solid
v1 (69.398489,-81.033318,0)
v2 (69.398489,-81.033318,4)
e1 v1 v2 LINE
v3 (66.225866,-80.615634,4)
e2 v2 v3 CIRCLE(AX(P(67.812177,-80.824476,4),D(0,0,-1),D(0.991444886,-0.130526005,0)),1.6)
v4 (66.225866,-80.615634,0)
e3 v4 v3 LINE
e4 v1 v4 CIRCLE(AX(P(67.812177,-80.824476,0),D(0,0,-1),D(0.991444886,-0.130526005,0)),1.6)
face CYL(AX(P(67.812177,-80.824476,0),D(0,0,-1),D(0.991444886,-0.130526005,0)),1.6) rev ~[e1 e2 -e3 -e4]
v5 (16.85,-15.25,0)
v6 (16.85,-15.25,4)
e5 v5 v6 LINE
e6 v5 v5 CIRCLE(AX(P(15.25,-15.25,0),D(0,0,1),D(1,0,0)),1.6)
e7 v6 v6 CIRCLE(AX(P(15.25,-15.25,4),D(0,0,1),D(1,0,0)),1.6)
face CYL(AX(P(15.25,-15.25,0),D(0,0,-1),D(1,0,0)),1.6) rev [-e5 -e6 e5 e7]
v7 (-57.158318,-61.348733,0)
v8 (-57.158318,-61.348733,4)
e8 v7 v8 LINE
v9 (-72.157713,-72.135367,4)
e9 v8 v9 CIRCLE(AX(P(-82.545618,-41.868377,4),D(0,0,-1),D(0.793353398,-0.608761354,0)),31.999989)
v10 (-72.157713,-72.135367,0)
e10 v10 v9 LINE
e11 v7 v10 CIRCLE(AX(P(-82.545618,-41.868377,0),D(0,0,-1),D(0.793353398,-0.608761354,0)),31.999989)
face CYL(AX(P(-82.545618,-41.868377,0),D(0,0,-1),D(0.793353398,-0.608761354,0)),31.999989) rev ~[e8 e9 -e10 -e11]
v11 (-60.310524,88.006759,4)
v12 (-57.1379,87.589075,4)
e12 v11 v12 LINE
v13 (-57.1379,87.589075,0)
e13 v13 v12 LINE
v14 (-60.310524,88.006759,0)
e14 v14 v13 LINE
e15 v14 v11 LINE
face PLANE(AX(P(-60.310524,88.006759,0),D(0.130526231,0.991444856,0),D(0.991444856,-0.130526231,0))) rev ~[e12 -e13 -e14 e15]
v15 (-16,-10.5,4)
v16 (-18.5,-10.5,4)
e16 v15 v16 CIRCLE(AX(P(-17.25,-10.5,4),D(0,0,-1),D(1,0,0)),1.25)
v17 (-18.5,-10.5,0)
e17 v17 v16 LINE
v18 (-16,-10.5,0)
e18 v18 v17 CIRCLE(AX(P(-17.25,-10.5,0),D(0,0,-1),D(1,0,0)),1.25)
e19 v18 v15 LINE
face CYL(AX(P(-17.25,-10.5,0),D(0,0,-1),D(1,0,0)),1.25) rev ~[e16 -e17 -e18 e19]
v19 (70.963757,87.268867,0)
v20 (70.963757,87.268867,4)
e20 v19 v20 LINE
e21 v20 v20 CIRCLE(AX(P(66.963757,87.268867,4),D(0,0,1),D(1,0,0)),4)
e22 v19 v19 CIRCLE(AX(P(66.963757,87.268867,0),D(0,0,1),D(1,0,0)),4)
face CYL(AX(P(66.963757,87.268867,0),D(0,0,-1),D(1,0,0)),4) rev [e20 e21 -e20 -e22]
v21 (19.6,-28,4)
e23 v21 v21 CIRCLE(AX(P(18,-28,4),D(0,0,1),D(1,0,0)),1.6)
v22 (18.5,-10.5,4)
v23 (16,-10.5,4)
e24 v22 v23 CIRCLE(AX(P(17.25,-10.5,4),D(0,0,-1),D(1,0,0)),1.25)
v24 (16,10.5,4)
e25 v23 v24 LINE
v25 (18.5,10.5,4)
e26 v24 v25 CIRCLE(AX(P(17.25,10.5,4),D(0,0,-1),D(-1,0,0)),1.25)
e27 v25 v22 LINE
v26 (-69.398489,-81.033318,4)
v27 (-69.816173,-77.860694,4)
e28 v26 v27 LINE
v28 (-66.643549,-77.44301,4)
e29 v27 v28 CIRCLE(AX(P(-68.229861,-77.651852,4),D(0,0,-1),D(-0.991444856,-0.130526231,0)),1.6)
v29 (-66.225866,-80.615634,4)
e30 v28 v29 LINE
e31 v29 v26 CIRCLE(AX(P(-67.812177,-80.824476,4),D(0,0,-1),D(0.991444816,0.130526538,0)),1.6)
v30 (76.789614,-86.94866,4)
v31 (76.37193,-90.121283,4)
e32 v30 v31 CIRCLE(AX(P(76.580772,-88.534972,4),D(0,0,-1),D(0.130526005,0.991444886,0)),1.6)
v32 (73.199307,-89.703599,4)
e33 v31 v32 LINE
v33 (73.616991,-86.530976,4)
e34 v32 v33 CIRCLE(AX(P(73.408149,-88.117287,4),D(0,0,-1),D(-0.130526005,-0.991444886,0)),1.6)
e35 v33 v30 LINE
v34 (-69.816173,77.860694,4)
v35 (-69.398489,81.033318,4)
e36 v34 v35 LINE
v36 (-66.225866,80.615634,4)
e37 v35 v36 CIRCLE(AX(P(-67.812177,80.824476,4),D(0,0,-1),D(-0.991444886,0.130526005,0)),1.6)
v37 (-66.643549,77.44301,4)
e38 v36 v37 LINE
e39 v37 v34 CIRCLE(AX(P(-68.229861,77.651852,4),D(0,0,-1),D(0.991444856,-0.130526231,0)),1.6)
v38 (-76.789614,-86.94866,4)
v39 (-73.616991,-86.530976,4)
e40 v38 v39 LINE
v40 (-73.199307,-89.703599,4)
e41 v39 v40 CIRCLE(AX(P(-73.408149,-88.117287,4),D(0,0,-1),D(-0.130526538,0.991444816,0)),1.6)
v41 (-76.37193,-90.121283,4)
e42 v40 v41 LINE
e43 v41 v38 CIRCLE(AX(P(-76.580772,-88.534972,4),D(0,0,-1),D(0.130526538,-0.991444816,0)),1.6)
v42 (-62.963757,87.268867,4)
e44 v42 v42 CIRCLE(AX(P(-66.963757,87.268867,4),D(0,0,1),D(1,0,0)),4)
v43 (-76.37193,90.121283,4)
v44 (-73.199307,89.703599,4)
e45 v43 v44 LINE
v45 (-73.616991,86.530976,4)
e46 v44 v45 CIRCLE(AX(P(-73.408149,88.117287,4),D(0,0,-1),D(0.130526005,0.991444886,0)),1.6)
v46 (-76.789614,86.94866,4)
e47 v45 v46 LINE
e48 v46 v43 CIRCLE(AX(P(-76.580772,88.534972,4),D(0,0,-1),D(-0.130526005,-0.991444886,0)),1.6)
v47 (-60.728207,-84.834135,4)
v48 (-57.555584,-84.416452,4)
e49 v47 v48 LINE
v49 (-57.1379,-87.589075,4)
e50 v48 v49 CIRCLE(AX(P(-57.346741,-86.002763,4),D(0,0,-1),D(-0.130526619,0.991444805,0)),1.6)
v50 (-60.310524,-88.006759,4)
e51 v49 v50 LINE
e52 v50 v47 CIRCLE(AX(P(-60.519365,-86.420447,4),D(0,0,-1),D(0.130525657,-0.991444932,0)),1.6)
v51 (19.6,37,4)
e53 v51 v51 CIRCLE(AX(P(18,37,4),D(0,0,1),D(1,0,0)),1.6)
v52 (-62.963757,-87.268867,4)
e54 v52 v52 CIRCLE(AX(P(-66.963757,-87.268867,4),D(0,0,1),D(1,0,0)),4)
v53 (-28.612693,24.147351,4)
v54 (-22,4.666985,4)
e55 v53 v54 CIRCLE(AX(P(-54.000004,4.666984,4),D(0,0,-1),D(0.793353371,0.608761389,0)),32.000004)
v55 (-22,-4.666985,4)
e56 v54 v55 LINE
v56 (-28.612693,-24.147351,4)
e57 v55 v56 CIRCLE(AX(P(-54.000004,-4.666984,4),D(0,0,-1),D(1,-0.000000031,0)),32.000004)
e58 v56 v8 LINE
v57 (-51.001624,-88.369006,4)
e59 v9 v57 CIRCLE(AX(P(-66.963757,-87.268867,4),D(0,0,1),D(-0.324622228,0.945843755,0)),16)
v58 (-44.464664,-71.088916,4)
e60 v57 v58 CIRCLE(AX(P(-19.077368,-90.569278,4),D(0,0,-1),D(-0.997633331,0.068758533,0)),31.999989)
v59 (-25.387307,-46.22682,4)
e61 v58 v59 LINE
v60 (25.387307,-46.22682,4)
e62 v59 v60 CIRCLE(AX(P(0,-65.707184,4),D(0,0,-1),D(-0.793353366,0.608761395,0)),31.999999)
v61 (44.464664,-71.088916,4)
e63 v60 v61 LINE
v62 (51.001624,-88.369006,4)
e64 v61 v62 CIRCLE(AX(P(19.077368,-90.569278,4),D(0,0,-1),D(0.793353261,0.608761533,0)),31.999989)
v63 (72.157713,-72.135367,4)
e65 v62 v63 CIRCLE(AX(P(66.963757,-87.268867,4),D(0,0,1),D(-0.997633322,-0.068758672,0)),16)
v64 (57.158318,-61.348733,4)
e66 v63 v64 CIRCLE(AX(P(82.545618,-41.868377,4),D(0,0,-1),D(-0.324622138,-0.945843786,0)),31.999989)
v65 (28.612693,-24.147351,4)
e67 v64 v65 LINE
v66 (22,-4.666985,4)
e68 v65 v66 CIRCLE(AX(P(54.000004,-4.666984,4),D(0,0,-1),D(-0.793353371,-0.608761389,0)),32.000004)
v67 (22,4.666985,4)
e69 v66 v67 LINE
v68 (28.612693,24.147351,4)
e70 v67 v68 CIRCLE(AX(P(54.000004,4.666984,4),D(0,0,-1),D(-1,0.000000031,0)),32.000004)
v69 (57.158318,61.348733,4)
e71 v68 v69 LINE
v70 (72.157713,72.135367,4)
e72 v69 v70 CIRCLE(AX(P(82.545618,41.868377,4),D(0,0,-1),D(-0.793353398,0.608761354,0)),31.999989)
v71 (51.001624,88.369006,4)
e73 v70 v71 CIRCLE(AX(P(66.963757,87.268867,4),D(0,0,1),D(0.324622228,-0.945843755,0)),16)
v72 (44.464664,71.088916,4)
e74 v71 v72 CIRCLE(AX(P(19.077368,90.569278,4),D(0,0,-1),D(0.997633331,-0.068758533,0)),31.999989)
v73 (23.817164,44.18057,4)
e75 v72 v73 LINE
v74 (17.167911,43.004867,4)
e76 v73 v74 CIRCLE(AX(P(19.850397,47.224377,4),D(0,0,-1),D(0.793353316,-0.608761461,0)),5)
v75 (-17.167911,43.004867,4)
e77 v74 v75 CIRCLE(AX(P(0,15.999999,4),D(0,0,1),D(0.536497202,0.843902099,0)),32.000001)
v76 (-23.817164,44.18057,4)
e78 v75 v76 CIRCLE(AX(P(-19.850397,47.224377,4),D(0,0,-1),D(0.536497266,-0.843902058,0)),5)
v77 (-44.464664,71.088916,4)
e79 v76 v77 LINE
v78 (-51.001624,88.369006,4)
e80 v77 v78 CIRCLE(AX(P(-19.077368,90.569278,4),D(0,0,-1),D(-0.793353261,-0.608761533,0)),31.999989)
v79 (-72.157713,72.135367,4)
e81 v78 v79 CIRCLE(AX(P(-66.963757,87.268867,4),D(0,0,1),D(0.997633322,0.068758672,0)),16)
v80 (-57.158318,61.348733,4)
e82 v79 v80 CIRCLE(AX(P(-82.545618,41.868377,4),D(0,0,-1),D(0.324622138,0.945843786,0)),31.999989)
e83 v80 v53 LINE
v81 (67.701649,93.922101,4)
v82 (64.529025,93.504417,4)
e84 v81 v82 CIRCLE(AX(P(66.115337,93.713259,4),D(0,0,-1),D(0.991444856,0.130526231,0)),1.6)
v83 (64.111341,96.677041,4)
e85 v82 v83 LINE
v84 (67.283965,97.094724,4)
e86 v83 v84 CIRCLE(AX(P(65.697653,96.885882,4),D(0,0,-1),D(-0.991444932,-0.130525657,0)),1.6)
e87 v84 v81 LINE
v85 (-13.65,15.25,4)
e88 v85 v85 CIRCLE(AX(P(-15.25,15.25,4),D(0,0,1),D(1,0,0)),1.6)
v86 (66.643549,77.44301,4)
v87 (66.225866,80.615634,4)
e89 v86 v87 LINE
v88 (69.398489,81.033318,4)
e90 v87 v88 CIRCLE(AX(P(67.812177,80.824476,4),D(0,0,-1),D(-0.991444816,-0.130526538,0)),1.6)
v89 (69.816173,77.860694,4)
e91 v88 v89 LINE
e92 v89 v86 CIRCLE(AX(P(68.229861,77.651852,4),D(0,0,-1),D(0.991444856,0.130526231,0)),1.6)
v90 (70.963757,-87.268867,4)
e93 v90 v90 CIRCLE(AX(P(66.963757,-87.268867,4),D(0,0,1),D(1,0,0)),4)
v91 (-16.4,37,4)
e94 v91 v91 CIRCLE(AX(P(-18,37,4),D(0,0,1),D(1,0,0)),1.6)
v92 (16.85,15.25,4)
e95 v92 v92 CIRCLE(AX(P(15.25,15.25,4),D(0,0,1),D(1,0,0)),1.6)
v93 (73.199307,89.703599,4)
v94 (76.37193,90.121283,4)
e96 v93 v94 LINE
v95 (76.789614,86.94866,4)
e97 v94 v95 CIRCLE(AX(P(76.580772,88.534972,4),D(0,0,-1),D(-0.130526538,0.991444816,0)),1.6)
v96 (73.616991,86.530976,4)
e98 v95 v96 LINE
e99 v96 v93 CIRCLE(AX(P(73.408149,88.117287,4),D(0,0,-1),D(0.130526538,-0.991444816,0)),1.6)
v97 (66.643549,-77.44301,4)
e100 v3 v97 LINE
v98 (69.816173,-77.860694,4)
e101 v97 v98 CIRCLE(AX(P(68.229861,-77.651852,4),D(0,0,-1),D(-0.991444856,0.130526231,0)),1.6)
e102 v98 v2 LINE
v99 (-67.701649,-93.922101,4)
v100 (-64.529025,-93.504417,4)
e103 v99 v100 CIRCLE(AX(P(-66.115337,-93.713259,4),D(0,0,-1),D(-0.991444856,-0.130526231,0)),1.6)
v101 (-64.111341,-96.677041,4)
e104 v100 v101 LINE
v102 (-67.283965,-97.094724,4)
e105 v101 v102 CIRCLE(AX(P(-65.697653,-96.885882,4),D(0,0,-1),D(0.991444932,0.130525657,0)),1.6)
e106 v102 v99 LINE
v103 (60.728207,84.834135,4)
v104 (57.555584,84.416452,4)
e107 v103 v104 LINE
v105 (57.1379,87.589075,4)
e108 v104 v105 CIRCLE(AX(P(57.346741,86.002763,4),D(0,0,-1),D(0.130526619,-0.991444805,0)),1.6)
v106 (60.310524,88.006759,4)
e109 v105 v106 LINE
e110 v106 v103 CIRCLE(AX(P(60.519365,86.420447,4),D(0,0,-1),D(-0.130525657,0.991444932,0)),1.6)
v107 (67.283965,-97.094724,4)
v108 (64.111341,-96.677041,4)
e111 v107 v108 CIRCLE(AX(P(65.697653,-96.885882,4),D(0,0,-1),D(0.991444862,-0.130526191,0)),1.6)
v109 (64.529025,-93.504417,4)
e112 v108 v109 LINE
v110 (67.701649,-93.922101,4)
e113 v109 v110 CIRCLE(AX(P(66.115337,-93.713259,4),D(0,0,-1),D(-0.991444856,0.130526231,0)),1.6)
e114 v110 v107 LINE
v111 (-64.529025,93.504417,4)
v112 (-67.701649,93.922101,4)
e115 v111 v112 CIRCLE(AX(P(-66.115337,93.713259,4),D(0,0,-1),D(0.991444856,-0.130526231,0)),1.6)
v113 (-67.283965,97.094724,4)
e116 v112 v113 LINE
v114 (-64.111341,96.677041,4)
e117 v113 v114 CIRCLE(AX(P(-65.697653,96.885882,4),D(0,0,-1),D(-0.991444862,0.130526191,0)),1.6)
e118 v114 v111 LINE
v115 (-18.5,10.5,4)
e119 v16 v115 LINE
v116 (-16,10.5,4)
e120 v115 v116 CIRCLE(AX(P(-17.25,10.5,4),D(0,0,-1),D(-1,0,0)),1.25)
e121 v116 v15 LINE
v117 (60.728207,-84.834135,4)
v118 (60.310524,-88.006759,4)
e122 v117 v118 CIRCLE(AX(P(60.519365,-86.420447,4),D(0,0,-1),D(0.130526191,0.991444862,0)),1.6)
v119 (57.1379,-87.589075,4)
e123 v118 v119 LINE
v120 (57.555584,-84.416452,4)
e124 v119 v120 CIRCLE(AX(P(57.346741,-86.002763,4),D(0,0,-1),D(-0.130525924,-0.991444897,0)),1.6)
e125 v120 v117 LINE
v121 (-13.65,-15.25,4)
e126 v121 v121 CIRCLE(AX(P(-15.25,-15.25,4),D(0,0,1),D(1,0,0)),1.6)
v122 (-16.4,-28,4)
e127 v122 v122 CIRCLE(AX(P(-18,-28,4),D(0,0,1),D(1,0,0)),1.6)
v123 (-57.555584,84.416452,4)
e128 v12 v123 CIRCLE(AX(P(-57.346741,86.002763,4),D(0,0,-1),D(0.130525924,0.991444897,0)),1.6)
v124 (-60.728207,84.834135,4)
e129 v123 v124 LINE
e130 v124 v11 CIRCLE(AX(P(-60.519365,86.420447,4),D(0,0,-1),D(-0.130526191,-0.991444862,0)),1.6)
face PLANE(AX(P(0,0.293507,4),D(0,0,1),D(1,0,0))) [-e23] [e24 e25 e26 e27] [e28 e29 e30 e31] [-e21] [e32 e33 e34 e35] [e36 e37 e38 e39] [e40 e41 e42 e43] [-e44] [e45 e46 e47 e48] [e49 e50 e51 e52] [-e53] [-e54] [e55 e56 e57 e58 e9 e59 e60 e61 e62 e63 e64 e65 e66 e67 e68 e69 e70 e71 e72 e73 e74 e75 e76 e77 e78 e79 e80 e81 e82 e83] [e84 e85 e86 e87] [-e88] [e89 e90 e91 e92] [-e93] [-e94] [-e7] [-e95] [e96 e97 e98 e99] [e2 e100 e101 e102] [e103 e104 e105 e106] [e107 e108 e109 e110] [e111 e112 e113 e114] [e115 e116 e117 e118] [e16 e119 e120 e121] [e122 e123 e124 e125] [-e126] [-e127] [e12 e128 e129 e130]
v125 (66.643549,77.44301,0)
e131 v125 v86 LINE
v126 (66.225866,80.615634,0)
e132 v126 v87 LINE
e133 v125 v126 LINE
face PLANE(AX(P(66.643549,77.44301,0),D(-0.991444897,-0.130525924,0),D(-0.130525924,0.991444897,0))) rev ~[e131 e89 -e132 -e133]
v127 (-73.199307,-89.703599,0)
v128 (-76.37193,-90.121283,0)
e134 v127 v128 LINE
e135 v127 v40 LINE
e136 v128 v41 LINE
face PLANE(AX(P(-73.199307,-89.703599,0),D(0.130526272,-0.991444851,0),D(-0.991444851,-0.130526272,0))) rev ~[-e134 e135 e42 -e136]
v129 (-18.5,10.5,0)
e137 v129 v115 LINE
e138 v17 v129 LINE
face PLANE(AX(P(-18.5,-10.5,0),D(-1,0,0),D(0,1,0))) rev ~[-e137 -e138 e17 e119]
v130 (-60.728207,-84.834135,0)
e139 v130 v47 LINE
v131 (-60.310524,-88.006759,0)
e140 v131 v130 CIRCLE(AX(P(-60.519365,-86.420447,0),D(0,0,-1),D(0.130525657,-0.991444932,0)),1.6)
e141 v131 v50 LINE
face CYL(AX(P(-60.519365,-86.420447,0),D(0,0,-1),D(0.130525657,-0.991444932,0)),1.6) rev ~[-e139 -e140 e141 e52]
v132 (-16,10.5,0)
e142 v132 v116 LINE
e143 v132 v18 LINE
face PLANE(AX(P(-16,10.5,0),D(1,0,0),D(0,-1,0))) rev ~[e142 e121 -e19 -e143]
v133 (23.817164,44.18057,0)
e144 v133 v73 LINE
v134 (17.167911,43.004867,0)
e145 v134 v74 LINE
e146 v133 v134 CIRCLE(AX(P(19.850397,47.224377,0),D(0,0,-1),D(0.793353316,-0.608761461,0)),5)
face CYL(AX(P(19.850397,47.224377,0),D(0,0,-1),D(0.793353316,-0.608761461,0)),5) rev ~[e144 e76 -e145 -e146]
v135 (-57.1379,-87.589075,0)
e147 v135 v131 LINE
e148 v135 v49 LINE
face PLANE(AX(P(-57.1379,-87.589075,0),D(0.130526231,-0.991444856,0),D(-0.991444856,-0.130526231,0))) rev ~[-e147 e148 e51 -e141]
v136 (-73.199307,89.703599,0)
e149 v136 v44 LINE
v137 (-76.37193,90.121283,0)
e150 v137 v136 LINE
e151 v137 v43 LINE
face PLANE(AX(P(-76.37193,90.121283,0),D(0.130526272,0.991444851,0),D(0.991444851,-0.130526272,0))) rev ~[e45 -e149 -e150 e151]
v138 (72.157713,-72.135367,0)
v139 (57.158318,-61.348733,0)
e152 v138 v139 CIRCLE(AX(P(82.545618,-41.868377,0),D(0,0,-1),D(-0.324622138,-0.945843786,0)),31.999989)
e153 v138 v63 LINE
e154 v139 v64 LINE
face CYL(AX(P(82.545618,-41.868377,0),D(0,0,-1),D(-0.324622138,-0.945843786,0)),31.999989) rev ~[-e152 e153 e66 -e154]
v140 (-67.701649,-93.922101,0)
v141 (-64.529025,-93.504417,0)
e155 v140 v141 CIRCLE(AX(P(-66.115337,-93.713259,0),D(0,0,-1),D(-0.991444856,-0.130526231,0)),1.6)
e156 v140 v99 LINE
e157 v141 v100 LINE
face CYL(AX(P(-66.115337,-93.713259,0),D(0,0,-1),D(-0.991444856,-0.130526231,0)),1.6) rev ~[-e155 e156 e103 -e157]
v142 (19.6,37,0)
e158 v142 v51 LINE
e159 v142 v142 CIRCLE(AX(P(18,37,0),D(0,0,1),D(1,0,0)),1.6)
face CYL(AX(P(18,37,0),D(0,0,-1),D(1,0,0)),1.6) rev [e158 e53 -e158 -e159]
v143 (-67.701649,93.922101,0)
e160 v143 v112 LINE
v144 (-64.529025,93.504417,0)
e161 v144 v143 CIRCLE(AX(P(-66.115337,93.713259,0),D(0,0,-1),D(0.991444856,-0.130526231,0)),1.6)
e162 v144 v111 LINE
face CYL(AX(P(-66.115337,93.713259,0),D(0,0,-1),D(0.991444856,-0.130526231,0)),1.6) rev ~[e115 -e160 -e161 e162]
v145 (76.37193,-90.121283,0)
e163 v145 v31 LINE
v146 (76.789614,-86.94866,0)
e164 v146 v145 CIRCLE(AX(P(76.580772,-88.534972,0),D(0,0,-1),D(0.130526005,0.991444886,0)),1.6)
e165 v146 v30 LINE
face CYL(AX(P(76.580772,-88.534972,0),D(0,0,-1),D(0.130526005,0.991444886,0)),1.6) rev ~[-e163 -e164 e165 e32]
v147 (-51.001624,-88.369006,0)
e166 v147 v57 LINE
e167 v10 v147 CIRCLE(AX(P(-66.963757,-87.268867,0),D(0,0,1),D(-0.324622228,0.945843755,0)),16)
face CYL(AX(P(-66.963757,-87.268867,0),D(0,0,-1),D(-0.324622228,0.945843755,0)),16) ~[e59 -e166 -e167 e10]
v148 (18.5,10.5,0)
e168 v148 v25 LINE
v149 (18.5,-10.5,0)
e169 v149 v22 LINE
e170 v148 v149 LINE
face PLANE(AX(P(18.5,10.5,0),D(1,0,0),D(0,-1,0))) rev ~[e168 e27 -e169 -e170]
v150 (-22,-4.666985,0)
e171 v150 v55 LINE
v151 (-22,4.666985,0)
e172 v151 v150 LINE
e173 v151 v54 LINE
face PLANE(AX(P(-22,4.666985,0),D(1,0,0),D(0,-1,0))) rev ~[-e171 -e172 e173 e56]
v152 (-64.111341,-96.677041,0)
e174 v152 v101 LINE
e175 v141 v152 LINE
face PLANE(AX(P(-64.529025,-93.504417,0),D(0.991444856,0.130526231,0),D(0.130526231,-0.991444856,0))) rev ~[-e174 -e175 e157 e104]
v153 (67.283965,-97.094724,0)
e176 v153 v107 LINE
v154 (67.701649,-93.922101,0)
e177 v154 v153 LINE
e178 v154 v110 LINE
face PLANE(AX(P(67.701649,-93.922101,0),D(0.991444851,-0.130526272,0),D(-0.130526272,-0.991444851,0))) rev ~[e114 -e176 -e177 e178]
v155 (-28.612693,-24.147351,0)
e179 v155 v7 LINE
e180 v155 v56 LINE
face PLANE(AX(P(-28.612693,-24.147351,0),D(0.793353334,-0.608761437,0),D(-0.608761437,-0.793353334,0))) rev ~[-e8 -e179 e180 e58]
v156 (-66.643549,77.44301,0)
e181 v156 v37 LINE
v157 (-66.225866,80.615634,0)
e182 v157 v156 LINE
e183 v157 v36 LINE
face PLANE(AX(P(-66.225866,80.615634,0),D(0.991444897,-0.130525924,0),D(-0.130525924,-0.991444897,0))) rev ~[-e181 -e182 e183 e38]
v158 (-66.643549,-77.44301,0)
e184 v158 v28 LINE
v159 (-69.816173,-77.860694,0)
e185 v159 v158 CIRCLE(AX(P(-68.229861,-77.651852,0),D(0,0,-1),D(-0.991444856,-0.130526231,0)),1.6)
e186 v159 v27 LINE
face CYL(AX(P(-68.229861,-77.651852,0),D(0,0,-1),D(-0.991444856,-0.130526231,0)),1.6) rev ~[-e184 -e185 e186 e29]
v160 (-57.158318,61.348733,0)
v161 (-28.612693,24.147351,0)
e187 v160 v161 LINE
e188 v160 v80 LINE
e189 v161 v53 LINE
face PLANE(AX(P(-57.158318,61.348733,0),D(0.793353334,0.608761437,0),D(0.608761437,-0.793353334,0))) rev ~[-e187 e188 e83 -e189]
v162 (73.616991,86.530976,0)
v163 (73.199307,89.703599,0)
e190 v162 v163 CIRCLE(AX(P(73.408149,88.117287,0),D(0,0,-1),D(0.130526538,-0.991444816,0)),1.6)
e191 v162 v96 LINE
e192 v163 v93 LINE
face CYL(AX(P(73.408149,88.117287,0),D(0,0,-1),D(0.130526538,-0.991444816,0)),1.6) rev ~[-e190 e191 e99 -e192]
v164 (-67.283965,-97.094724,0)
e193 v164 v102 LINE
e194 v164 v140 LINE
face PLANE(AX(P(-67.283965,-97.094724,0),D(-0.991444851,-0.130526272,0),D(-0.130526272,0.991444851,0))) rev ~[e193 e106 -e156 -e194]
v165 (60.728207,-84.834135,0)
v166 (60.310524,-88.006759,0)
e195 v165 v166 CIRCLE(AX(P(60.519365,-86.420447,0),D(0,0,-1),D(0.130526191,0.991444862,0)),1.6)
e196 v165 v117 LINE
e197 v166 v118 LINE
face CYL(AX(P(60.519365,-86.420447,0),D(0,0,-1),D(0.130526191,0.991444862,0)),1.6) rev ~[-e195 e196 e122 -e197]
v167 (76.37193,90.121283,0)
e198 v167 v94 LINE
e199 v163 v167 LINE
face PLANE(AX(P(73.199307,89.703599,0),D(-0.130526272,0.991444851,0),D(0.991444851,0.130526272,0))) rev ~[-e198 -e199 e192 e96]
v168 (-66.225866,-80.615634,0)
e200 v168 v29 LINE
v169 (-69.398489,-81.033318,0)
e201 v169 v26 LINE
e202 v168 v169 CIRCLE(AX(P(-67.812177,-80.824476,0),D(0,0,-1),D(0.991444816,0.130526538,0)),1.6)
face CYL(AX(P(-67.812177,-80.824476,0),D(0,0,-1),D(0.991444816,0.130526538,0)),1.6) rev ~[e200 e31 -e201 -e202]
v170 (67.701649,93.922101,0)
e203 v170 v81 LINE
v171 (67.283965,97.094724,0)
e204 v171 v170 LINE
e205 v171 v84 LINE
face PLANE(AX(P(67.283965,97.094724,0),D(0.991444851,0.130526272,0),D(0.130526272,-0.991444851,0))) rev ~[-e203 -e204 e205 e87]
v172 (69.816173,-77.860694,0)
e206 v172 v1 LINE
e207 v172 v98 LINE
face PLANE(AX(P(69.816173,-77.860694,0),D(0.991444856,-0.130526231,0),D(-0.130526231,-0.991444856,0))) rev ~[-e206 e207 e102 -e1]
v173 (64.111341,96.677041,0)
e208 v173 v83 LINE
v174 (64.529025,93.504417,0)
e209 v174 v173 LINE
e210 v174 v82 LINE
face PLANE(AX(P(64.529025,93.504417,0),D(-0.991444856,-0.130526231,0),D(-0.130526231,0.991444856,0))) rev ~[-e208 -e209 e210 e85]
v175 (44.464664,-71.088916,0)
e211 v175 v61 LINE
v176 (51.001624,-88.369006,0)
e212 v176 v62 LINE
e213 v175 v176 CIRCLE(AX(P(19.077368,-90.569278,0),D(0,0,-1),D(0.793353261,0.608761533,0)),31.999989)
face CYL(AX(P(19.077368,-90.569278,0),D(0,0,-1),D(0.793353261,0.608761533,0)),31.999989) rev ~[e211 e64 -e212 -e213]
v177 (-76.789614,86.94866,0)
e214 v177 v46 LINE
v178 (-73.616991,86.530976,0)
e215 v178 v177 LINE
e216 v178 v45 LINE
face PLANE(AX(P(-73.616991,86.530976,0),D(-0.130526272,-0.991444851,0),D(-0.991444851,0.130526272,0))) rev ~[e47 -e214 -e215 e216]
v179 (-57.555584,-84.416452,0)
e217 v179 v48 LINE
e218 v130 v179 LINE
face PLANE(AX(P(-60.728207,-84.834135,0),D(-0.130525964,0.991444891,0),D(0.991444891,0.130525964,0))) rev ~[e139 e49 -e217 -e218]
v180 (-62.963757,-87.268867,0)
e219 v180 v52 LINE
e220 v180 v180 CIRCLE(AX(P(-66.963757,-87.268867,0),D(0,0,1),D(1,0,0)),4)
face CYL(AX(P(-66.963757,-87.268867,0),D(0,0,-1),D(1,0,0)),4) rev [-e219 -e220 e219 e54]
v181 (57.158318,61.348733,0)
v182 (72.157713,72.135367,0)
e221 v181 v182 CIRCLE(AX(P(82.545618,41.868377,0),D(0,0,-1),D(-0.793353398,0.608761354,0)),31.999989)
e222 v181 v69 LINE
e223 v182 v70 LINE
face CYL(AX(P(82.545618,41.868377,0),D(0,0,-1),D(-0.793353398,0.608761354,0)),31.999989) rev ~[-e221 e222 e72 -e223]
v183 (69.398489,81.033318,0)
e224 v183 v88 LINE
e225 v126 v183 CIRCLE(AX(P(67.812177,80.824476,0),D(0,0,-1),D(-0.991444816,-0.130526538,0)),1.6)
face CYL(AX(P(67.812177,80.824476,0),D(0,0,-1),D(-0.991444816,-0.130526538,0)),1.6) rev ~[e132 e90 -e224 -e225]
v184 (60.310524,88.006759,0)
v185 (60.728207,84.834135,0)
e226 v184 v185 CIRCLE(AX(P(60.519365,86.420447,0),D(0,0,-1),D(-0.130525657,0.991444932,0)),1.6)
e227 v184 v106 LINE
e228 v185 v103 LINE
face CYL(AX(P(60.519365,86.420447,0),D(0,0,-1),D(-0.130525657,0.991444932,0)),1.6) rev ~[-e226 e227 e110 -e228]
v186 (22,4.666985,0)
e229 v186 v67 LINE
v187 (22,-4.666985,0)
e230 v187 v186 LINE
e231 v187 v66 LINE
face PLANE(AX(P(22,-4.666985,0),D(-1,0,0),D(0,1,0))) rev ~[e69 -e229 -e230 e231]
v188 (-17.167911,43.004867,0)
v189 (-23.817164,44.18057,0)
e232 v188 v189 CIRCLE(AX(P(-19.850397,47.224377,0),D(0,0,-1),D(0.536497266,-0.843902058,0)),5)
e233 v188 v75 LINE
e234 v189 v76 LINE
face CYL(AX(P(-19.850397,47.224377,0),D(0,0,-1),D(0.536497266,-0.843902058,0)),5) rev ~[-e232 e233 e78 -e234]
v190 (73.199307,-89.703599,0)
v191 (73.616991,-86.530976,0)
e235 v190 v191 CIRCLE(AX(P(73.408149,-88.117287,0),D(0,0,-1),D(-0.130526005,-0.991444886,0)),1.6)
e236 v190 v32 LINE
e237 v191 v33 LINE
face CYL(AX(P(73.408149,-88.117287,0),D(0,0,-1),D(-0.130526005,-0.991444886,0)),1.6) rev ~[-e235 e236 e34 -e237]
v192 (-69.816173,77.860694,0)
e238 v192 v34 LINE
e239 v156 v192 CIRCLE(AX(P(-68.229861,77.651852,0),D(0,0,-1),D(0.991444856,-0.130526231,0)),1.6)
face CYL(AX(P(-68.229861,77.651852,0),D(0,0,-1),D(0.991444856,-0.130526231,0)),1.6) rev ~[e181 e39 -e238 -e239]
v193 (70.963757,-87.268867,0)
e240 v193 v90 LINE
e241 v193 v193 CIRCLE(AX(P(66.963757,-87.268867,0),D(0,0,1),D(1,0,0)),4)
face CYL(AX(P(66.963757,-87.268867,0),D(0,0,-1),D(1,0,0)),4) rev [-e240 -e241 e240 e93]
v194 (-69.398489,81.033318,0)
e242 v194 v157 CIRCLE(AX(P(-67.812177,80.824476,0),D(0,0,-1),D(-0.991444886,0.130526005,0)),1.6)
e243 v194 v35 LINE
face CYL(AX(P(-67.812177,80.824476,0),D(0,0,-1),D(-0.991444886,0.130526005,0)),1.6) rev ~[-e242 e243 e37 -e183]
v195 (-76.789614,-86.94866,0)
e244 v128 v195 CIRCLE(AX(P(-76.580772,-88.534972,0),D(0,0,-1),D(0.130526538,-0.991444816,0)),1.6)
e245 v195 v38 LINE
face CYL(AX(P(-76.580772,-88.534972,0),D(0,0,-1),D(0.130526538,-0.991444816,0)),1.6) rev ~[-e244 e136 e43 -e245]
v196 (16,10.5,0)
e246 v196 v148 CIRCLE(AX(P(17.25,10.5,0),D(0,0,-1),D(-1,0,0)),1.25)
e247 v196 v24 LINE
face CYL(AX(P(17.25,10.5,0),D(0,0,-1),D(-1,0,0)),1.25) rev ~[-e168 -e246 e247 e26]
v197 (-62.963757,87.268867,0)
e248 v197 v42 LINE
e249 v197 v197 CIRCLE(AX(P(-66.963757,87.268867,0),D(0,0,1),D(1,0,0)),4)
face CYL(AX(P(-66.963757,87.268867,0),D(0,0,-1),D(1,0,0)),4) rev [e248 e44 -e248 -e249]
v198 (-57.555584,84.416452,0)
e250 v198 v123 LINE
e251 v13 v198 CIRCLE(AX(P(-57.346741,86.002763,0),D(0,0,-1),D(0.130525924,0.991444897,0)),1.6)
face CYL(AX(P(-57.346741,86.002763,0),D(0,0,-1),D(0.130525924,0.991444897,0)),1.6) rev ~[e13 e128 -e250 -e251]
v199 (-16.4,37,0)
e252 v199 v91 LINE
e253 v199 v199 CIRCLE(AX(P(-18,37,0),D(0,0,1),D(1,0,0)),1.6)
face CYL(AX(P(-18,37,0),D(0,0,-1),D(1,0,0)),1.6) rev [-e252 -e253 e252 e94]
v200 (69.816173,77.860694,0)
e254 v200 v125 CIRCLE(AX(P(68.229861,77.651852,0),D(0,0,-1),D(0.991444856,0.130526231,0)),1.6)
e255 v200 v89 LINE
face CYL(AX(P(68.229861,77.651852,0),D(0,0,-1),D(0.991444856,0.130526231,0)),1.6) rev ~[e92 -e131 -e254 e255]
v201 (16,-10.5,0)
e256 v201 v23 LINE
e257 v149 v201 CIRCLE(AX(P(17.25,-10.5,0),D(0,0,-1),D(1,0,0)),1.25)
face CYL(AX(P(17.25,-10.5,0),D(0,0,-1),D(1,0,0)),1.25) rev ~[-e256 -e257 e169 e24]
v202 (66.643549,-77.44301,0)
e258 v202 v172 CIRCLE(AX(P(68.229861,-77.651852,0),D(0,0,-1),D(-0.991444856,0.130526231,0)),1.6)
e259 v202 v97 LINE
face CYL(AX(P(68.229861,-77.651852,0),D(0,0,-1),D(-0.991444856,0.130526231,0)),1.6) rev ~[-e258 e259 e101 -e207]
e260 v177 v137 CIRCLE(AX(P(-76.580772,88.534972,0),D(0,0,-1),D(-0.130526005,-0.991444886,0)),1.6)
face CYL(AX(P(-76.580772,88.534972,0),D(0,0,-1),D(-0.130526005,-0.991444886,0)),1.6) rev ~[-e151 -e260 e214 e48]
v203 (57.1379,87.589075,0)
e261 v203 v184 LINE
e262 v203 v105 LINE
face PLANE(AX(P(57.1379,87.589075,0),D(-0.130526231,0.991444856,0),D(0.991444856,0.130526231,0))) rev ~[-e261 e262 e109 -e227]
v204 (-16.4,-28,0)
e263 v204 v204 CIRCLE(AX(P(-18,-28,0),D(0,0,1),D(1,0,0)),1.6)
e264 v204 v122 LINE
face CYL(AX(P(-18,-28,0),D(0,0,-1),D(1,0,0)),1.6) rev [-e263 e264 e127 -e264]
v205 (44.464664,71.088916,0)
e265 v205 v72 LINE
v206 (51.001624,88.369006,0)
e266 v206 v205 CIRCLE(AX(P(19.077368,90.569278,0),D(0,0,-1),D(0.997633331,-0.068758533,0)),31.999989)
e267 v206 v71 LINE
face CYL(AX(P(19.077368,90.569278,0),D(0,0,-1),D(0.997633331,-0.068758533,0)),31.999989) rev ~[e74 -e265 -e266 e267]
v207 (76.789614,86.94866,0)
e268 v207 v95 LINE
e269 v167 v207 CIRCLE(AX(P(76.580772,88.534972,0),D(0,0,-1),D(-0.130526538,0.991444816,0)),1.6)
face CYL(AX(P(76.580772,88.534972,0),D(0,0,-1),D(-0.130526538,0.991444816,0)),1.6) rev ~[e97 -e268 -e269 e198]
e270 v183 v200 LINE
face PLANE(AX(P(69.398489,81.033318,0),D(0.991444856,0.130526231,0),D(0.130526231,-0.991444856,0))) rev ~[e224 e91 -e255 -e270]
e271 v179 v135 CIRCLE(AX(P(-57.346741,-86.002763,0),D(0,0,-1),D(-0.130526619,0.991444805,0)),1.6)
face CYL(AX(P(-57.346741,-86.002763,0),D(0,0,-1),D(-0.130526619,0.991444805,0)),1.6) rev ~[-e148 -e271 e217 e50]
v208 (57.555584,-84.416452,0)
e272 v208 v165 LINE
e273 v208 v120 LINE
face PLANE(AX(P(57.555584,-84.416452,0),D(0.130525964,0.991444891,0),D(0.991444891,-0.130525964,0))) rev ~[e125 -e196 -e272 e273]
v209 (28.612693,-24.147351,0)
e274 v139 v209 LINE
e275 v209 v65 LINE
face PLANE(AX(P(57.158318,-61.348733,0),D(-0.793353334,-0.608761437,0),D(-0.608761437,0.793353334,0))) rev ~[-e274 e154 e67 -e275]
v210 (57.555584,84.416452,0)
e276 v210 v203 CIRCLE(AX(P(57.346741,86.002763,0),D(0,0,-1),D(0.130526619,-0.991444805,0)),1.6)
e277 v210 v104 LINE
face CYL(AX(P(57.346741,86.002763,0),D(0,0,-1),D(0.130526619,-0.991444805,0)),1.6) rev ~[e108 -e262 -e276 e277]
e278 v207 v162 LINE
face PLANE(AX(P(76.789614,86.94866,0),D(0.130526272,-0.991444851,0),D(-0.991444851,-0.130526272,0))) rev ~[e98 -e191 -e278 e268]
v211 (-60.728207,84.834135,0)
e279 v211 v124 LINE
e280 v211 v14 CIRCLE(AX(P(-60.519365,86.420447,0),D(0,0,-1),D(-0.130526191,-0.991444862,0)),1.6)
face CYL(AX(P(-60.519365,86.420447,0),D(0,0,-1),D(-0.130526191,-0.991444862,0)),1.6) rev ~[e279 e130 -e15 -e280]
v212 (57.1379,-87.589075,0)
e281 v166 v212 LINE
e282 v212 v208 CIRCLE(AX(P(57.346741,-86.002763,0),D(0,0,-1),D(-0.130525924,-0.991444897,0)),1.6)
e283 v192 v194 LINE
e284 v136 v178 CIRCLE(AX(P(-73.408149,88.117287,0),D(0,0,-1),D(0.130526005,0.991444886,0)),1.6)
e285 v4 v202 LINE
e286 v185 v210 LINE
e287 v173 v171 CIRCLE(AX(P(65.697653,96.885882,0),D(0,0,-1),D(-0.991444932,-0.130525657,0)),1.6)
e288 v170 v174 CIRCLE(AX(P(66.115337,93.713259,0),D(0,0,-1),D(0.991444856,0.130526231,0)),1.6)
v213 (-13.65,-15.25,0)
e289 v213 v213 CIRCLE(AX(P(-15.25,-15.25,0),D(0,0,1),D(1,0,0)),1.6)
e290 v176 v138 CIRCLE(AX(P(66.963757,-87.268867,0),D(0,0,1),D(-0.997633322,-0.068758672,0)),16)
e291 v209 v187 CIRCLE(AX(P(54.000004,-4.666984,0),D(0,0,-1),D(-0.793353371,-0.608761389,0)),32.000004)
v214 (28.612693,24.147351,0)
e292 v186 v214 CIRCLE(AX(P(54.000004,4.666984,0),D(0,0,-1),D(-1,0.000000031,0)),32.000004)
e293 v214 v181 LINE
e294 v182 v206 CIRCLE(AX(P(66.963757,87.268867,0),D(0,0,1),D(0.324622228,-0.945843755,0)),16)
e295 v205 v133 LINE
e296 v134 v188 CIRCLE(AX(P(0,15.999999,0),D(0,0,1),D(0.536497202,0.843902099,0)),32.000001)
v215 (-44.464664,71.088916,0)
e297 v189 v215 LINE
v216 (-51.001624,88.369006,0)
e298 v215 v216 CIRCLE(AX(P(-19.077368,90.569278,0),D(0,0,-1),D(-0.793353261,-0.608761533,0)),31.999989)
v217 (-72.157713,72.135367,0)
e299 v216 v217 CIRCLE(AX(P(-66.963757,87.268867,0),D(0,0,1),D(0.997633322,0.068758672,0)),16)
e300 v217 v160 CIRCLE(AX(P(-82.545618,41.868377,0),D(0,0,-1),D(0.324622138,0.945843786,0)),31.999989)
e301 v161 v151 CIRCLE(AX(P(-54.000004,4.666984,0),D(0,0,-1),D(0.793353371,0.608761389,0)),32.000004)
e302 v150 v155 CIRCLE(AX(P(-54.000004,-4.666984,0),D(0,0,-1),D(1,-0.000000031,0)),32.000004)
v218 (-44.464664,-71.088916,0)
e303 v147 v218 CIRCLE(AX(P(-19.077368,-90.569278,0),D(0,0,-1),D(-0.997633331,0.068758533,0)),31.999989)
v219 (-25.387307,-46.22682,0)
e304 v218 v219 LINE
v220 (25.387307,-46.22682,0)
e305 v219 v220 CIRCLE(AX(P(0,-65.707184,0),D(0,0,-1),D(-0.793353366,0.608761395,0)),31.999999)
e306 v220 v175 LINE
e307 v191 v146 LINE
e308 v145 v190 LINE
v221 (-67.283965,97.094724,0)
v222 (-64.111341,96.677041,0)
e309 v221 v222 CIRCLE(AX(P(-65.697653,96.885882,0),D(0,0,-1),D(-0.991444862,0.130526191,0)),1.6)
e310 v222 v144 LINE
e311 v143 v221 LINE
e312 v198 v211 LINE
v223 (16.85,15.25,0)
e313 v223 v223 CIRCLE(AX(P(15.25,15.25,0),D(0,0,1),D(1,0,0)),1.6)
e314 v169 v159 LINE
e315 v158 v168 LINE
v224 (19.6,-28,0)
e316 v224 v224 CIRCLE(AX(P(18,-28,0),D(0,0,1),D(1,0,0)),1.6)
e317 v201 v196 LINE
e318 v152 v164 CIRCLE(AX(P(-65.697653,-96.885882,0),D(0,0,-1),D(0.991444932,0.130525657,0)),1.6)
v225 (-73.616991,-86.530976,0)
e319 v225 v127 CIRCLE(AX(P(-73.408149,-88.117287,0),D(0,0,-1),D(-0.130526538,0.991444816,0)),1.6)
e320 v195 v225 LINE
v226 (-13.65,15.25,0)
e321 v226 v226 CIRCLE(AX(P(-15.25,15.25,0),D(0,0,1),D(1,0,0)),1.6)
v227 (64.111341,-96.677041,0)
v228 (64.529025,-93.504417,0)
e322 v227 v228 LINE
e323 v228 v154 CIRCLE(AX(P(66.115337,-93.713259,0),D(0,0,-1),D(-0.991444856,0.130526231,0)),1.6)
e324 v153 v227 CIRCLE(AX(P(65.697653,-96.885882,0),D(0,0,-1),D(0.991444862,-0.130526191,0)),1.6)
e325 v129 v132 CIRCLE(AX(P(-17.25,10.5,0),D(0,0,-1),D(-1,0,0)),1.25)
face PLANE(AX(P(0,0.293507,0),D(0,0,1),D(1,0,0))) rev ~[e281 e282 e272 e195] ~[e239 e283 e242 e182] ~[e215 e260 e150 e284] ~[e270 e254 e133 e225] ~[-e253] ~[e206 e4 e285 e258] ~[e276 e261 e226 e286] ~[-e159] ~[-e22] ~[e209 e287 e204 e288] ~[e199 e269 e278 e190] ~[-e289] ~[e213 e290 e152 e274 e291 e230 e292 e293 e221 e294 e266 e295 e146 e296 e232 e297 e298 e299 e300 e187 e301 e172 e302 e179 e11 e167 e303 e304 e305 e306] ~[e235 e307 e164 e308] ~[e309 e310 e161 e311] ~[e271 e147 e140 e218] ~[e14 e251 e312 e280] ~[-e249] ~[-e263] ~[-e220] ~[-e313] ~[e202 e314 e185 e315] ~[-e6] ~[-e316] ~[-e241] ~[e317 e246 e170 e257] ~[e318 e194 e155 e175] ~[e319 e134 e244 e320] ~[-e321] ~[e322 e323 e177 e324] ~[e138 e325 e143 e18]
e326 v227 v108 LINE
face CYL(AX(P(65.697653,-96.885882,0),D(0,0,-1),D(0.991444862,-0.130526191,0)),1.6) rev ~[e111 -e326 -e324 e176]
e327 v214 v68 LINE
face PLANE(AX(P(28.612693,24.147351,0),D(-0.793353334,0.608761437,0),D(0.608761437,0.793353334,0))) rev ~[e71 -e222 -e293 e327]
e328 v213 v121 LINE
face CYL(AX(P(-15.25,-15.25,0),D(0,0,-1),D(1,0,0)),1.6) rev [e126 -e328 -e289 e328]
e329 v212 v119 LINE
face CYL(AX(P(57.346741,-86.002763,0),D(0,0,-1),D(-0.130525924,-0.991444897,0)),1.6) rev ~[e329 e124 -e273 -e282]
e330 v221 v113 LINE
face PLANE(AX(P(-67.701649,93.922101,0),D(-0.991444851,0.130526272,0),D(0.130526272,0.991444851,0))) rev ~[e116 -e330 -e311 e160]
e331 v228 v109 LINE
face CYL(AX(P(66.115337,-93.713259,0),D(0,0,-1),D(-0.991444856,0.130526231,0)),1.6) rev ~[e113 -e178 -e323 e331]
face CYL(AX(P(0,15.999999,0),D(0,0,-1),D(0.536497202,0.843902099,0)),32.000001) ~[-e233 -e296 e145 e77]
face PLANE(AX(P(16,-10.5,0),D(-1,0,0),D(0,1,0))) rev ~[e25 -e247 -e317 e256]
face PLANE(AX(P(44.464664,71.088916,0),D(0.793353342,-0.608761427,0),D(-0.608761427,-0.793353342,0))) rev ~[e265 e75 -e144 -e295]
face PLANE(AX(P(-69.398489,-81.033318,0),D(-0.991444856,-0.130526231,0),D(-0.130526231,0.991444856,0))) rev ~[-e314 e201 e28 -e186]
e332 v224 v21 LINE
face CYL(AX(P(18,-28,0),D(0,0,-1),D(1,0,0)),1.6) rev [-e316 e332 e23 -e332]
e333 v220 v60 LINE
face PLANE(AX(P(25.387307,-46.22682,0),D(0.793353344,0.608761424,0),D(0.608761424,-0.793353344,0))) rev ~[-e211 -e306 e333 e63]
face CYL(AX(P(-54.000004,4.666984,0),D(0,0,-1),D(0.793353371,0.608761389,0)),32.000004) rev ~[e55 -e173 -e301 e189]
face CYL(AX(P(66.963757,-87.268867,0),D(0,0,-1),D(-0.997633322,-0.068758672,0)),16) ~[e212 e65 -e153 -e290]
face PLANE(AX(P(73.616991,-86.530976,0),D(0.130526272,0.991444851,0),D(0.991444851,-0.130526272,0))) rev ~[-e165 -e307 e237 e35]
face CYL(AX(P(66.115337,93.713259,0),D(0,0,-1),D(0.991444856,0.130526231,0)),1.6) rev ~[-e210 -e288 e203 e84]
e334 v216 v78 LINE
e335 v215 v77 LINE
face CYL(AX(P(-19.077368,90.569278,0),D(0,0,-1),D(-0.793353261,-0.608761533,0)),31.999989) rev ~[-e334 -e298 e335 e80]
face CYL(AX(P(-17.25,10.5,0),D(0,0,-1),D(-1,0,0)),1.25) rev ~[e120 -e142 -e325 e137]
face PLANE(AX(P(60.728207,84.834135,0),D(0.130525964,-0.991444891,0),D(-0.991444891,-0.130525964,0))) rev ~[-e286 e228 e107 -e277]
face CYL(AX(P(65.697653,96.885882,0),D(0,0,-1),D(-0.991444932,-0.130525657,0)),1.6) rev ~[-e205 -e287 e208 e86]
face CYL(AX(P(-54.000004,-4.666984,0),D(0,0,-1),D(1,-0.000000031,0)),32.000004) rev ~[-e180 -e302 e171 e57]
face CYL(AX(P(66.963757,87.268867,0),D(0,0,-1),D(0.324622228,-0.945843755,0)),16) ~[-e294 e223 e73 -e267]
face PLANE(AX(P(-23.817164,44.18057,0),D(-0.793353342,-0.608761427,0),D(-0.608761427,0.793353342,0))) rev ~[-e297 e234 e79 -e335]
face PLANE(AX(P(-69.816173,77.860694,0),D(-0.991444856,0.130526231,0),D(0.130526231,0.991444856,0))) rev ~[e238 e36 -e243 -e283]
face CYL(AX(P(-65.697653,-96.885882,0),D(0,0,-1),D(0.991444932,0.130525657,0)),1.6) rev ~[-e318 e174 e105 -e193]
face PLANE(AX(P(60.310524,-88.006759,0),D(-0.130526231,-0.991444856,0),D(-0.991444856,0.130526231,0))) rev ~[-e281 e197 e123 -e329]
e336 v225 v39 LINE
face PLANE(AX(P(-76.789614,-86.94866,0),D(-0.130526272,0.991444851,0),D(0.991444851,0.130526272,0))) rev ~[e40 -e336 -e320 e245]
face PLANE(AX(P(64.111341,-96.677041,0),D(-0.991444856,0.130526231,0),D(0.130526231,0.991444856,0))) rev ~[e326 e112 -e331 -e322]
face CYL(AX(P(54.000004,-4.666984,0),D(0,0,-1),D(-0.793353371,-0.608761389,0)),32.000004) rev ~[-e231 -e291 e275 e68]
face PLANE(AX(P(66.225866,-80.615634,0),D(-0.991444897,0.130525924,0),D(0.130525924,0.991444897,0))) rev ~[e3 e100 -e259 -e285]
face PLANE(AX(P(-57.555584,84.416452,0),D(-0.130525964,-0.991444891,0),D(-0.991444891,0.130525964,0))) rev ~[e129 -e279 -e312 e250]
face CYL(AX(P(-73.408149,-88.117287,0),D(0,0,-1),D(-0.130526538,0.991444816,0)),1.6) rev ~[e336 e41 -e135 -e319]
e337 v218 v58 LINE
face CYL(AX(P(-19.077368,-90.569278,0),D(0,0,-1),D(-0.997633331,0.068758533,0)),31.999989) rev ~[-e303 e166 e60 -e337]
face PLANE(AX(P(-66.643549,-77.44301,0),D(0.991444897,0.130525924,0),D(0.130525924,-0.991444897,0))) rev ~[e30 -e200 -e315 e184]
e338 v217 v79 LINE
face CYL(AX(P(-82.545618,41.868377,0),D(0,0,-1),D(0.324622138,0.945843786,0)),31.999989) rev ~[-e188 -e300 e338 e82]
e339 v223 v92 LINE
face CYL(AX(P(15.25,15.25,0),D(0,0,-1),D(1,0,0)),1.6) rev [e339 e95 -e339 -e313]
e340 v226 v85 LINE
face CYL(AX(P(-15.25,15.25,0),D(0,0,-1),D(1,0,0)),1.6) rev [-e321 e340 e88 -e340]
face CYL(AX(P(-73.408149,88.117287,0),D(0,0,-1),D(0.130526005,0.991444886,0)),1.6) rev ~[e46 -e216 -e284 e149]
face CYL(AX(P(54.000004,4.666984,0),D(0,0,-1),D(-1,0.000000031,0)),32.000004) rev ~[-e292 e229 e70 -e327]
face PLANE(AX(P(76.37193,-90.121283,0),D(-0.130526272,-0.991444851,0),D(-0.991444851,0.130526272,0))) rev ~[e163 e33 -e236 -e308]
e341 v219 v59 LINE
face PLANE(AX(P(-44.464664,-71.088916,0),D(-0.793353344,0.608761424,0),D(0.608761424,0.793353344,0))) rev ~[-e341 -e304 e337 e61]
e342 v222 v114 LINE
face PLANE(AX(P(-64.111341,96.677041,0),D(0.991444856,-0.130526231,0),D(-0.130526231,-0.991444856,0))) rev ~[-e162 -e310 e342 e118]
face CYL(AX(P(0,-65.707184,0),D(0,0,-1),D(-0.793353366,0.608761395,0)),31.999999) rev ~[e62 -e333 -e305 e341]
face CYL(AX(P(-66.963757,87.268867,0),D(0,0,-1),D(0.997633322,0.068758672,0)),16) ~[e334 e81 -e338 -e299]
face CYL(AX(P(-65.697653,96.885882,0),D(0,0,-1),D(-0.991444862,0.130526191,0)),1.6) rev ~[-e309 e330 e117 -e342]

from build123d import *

# Parameters (mm, degrees)
F0_R     = 4
F0_R_2   = 1.6
F1_DEPTH = 4


with BuildPart() as f1:
    # F0 (on Top) → F1 (new body)
    with BuildSketch(Plane.XY):
        with BuildLine():
            ThreePointArc((-44.464664, 71.088916), (-49.007351, 79.246936), (-51.001624, 88.369006))
            ThreePointArc((-51.001624, 88.369006), (-76.70394, 99.962521), (-72.157713, 72.135367))
            ThreePointArc((-72.157713, 72.135367), (-63.862626, 67.848082), (-57.158318, 61.348733))
            Line((-57.158318, 61.348733), (-28.612693, 24.147351))
            ThreePointArc((-28.612693, 24.147351), (-23.698236, 14.953048), (-22, 4.666985))
            Line((-22, 4.666985), (-22, -4.666985))
            ThreePointArc((-22, -4.666985), (-23.698236, -14.953048), (-28.612693, -24.147351))
            Line((-28.612693, -24.147351), (-57.158318, -61.348733))
            ThreePointArc((-57.158318, -61.348733), (-63.862626, -67.848082), (-72.157713, -72.135367))
            ThreePointArc((-72.157713, -72.135367), (-76.70394, -99.962521), (-51.001624, -88.369006))
            ThreePointArc((-51.001624, -88.369006), (-49.007351, -79.246936), (-44.464664, -71.088916))
            Line((-44.464664, -71.088916), (-25.387307, -46.22682))
            ThreePointArc((-25.387307, -46.22682), (0, -33.707185), (25.387307, -46.22682))
            Line((25.387307, -46.22682), (44.464664, -71.088916))
            ThreePointArc((44.464664, -71.088916), (49.007351, -79.246936), (51.001624, -88.369006))
            ThreePointArc((51.001624, -88.369006), (76.70394, -99.962521), (72.157713, -72.135367))
            ThreePointArc((72.157713, -72.135367), (63.862626, -67.848082), (57.158318, -61.348733))
            Line((57.158318, -61.348733), (28.612693, -24.147351))
            ThreePointArc((28.612693, -24.147351), (23.698236, -14.953048), (22, -4.666985))
            Line((22, -4.666985), (22, 4.666985))
            ThreePointArc((22, 4.666985), (23.698236, 14.953048), (28.612693, 24.147351))
            Line((28.612693, 24.147351), (57.158318, 61.348733))
            ThreePointArc((57.158318, 61.348733), (63.862626, 67.848082), (72.157713, 72.135367))
            ThreePointArc((72.157713, 72.135367), (76.70394, 99.962521), (51.001624, 88.369006))
            ThreePointArc((51.001624, 88.369006), (49.007351, 79.246936), (44.464664, 71.088916))
            Line((44.464664, 71.088916), (23.817164, 44.18057))
            ThreePointArc((23.817164, 44.18057), (20.72098, 42.300752), (17.167911, 43.004867))
            ThreePointArc((17.167911, 43.004867), (0, 48), (-17.167911, 43.004867))
            ThreePointArc((-17.167911, 43.004867), (-20.72098, 42.300752), (-23.817164, 44.18057))
            Line((-23.817164, 44.18057), (-44.464664, 71.088916))
        make_face()
        with BuildLine():
            ThreePointArc((-67.701649, -93.922101), (-66.324179, -92.126947), (-64.529025, -93.504417))
            Line((-64.529025, -93.504417), (-64.111341, -96.677041))
            ThreePointArc((-64.111341, -96.677041), (-65.488811, -98.472194), (-67.283965, -97.094724))
            Line((-67.283965, -97.094724), (-67.701649, -93.922101))
        make_face(mode=Mode.SUBTRACT)
        with BuildLine():
            Line((-73.199307, -89.703599), (-76.37193, -90.121283))
            ThreePointArc((-76.37193, -90.121283), (-78.167084, -88.743813), (-76.789614, -86.94866))
            Line((-76.789614, -86.94866), (-73.616991, -86.530976))
            ThreePointArc((-73.616991, -86.530976), (-71.821837, -87.908446), (-73.199307, -89.703599))
        make_face(mode=Mode.SUBTRACT)
        with Locations((-66.963757, -87.268867)):
            Circle(F0_R, mode=Mode.SUBTRACT)
        with BuildLine():
            Line((-66.643549, -77.44301), (-66.225866, -80.615634))
            ThreePointArc((-66.225866, -80.615634), (-67.603336, -82.410788), (-69.398489, -81.033318))
            Line((-69.398489, -81.033318), (-69.816173, -77.860694))
            ThreePointArc((-69.816173, -77.860694), (-68.438703, -76.06554), (-66.643549, -77.44301))
        make_face(mode=Mode.SUBTRACT)
        with BuildLine():
            ThreePointArc((-60.310524, -88.006759), (-62.105677, -86.629289), (-60.728207, -84.834135))
            Line((-60.728207, -84.834135), (-57.555584, -84.416452))
            ThreePointArc((-57.555584, -84.416452), (-55.76043, -85.793921), (-57.1379, -87.589075))
            Line((-57.1379, -87.589075), (-60.310524, -88.006759))
        make_face(mode=Mode.SUBTRACT)
        with Locations((-18, -28)):
            Circle(F0_R_2, mode=Mode.SUBTRACT)
        with Locations((-15.25, -15.25)):
            Circle(F0_R_2, mode=Mode.SUBTRACT)
        with BuildLine():
            ThreePointArc((60.728207, -84.834135), (62.105677, -86.629289), (60.310524, -88.006759))
            Line((60.310524, -88.006759), (57.1379, -87.589075))
            ThreePointArc((57.1379, -87.589075), (55.76043, -85.793921), (57.555584, -84.416452))
            Line((57.555584, -84.416452), (60.728207, -84.834135))
        make_face(mode=Mode.SUBTRACT)
        with BuildLine():
            ThreePointArc((64.529025, -93.504417), (66.324179, -92.126947), (67.701649, -93.922101))
            Line((67.701649, -93.922101), (67.283965, -97.094724))
            ThreePointArc((67.283965, -97.094724), (65.488811, -98.472194), (64.111341, -96.677041))
            Line((64.111341, -96.677041), (64.529025, -93.504417))
        make_face(mode=Mode.SUBTRACT)
        with Locations((66.963757, -87.268867)):
            Circle(F0_R, mode=Mode.SUBTRACT)
        with BuildLine():
            Line((69.816173, -77.860694), (69.398489, -81.033318))
            ThreePointArc((69.398489, -81.033318), (67.603336, -82.410788), (66.225866, -80.615634))
            Line((66.225866, -80.615634), (66.643549, -77.44301))
            ThreePointArc((66.643549, -77.44301), (68.438703, -76.06554), (69.816173, -77.860694))
        make_face(mode=Mode.SUBTRACT)
        with BuildLine():
            Line((76.37193, -90.121283), (73.199307, -89.703599))
            ThreePointArc((73.199307, -89.703599), (71.821837, -87.908446), (73.616991, -86.530976))
            Line((73.616991, -86.530976), (76.789614, -86.94866))
            ThreePointArc((76.789614, -86.94866), (78.167084, -88.743813), (76.37193, -90.121283))
        make_face(mode=Mode.SUBTRACT)
        with Locations((18, -28)):
            Circle(F0_R_2, mode=Mode.SUBTRACT)
        with Locations((15.25, -15.25)):
            Circle(F0_R_2, mode=Mode.SUBTRACT)
        with BuildLine():
            Line((-18.5, -10.5), (-18.5, 10.5))
            ThreePointArc((-18.5, 10.5), (-17.25, 11.75), (-16, 10.5))
            Line((-16, 10.5), (-16, -10.5))
            ThreePointArc((-16, -10.5), (-17.25, -11.75), (-18.5, -10.5))
        make_face(mode=Mode.SUBTRACT)
        with Locations((-15.25, 15.25)):
            Circle(F0_R_2, mode=Mode.SUBTRACT)
        with Locations((-18, 37)):
            Circle(F0_R_2, mode=Mode.SUBTRACT)
        with BuildLine():
            Line((-76.37193, 90.121283), (-73.199307, 89.703599))
            ThreePointArc((-73.199307, 89.703599), (-71.821837, 87.908446), (-73.616991, 86.530976))
            Line((-73.616991, 86.530976), (-76.789614, 86.94866))
            ThreePointArc((-76.789614, 86.94866), (-78.167084, 88.743813), (-76.37193, 90.121283))
        make_face(mode=Mode.SUBTRACT)
        with BuildLine():
            Line((-69.816173, 77.860694), (-69.398489, 81.033318))
            ThreePointArc((-69.398489, 81.033318), (-67.603336, 82.410788), (-66.225866, 80.615634))
            Line((-66.225866, 80.615634), (-66.643549, 77.44301))
            ThreePointArc((-66.643549, 77.44301), (-68.438703, 76.06554), (-69.816173, 77.860694))
        make_face(mode=Mode.SUBTRACT)
        with Locations((-66.963757, 87.268867)):
            Circle(F0_R, mode=Mode.SUBTRACT)
        with BuildLine():
            Line((-64.111341, 96.677041), (-64.529025, 93.504417))
            ThreePointArc((-64.529025, 93.504417), (-66.324179, 92.126947), (-67.701649, 93.922101))
            Line((-67.701649, 93.922101), (-67.283965, 97.094724))
            ThreePointArc((-67.283965, 97.094724), (-65.488811, 98.472194), (-64.111341, 96.677041))
        make_face(mode=Mode.SUBTRACT)
        with BuildLine():
            ThreePointArc((-60.728207, 84.834135), (-62.105677, 86.629289), (-60.310524, 88.006759))
            Line((-60.310524, 88.006759), (-57.1379, 87.589075))
            ThreePointArc((-57.1379, 87.589075), (-55.76043, 85.793921), (-57.555584, 84.416452))
            Line((-57.555584, 84.416452), (-60.728207, 84.834135))
        make_face(mode=Mode.SUBTRACT)
        with BuildLine():
            ThreePointArc((16, 10.5), (17.25, 11.75), (18.5, 10.5))
            Line((18.5, 10.5), (18.5, -10.5))
            ThreePointArc((18.5, -10.5), (17.25, -11.75), (16, -10.5))
            Line((16, -10.5), (16, 10.5))
        make_face(mode=Mode.SUBTRACT)
        with Locations((15.25, 15.25)):
            Circle(F0_R_2, mode=Mode.SUBTRACT)
        with Locations((18, 37)):
            Circle(F0_R_2, mode=Mode.SUBTRACT)
        with BuildLine():
            Line((57.1379, 87.589075), (60.310524, 88.006759))
            ThreePointArc((60.310524, 88.006759), (62.105677, 86.629289), (60.728207, 84.834135))
            Line((60.728207, 84.834135), (57.555584, 84.416452))
            ThreePointArc((57.555584, 84.416452), (55.76043, 85.793921), (57.1379, 87.589075))
        make_face(mode=Mode.SUBTRACT)
        with BuildLine():
            Line((66.643549, 77.44301), (66.225866, 80.615634))
            ThreePointArc((66.225866, 80.615634), (67.603336, 82.410788), (69.398489, 81.033318))
            Line((69.398489, 81.033318), (69.816173, 77.860694))
            ThreePointArc((69.816173, 77.860694), (68.438703, 76.06554), (66.643549, 77.44301))
        make_face(mode=Mode.SUBTRACT)
        with Locations((66.963757, 87.268867)):
            Circle(F0_R, mode=Mode.SUBTRACT)
        with BuildLine():
            Line((76.789614, 86.94866), (73.616991, 86.530976))
            ThreePointArc((73.616991, 86.530976), (71.821837, 87.908446), (73.199307, 89.703599))
            Line((73.199307, 89.703599), (76.37193, 90.121283))
            ThreePointArc((76.37193, 90.121283), (78.167084, 88.743813), (76.789614, 86.94866))
        make_face(mode=Mode.SUBTRACT)
        with BuildLine():
            Line((64.529025, 93.504417), (64.111341, 96.677041))
            ThreePointArc((64.111341, 96.677041), (65.488811, 98.472194), (67.283965, 97.094724))
            Line((67.283965, 97.094724), (67.701649, 93.922101))
            ThreePointArc((67.701649, 93.922101), (66.324179, 92.126947), (64.529025, 93.504417))
        make_face(mode=Mode.SUBTRACT)
    extrude(amount=F1_DEPTH)


solid = f1.part
